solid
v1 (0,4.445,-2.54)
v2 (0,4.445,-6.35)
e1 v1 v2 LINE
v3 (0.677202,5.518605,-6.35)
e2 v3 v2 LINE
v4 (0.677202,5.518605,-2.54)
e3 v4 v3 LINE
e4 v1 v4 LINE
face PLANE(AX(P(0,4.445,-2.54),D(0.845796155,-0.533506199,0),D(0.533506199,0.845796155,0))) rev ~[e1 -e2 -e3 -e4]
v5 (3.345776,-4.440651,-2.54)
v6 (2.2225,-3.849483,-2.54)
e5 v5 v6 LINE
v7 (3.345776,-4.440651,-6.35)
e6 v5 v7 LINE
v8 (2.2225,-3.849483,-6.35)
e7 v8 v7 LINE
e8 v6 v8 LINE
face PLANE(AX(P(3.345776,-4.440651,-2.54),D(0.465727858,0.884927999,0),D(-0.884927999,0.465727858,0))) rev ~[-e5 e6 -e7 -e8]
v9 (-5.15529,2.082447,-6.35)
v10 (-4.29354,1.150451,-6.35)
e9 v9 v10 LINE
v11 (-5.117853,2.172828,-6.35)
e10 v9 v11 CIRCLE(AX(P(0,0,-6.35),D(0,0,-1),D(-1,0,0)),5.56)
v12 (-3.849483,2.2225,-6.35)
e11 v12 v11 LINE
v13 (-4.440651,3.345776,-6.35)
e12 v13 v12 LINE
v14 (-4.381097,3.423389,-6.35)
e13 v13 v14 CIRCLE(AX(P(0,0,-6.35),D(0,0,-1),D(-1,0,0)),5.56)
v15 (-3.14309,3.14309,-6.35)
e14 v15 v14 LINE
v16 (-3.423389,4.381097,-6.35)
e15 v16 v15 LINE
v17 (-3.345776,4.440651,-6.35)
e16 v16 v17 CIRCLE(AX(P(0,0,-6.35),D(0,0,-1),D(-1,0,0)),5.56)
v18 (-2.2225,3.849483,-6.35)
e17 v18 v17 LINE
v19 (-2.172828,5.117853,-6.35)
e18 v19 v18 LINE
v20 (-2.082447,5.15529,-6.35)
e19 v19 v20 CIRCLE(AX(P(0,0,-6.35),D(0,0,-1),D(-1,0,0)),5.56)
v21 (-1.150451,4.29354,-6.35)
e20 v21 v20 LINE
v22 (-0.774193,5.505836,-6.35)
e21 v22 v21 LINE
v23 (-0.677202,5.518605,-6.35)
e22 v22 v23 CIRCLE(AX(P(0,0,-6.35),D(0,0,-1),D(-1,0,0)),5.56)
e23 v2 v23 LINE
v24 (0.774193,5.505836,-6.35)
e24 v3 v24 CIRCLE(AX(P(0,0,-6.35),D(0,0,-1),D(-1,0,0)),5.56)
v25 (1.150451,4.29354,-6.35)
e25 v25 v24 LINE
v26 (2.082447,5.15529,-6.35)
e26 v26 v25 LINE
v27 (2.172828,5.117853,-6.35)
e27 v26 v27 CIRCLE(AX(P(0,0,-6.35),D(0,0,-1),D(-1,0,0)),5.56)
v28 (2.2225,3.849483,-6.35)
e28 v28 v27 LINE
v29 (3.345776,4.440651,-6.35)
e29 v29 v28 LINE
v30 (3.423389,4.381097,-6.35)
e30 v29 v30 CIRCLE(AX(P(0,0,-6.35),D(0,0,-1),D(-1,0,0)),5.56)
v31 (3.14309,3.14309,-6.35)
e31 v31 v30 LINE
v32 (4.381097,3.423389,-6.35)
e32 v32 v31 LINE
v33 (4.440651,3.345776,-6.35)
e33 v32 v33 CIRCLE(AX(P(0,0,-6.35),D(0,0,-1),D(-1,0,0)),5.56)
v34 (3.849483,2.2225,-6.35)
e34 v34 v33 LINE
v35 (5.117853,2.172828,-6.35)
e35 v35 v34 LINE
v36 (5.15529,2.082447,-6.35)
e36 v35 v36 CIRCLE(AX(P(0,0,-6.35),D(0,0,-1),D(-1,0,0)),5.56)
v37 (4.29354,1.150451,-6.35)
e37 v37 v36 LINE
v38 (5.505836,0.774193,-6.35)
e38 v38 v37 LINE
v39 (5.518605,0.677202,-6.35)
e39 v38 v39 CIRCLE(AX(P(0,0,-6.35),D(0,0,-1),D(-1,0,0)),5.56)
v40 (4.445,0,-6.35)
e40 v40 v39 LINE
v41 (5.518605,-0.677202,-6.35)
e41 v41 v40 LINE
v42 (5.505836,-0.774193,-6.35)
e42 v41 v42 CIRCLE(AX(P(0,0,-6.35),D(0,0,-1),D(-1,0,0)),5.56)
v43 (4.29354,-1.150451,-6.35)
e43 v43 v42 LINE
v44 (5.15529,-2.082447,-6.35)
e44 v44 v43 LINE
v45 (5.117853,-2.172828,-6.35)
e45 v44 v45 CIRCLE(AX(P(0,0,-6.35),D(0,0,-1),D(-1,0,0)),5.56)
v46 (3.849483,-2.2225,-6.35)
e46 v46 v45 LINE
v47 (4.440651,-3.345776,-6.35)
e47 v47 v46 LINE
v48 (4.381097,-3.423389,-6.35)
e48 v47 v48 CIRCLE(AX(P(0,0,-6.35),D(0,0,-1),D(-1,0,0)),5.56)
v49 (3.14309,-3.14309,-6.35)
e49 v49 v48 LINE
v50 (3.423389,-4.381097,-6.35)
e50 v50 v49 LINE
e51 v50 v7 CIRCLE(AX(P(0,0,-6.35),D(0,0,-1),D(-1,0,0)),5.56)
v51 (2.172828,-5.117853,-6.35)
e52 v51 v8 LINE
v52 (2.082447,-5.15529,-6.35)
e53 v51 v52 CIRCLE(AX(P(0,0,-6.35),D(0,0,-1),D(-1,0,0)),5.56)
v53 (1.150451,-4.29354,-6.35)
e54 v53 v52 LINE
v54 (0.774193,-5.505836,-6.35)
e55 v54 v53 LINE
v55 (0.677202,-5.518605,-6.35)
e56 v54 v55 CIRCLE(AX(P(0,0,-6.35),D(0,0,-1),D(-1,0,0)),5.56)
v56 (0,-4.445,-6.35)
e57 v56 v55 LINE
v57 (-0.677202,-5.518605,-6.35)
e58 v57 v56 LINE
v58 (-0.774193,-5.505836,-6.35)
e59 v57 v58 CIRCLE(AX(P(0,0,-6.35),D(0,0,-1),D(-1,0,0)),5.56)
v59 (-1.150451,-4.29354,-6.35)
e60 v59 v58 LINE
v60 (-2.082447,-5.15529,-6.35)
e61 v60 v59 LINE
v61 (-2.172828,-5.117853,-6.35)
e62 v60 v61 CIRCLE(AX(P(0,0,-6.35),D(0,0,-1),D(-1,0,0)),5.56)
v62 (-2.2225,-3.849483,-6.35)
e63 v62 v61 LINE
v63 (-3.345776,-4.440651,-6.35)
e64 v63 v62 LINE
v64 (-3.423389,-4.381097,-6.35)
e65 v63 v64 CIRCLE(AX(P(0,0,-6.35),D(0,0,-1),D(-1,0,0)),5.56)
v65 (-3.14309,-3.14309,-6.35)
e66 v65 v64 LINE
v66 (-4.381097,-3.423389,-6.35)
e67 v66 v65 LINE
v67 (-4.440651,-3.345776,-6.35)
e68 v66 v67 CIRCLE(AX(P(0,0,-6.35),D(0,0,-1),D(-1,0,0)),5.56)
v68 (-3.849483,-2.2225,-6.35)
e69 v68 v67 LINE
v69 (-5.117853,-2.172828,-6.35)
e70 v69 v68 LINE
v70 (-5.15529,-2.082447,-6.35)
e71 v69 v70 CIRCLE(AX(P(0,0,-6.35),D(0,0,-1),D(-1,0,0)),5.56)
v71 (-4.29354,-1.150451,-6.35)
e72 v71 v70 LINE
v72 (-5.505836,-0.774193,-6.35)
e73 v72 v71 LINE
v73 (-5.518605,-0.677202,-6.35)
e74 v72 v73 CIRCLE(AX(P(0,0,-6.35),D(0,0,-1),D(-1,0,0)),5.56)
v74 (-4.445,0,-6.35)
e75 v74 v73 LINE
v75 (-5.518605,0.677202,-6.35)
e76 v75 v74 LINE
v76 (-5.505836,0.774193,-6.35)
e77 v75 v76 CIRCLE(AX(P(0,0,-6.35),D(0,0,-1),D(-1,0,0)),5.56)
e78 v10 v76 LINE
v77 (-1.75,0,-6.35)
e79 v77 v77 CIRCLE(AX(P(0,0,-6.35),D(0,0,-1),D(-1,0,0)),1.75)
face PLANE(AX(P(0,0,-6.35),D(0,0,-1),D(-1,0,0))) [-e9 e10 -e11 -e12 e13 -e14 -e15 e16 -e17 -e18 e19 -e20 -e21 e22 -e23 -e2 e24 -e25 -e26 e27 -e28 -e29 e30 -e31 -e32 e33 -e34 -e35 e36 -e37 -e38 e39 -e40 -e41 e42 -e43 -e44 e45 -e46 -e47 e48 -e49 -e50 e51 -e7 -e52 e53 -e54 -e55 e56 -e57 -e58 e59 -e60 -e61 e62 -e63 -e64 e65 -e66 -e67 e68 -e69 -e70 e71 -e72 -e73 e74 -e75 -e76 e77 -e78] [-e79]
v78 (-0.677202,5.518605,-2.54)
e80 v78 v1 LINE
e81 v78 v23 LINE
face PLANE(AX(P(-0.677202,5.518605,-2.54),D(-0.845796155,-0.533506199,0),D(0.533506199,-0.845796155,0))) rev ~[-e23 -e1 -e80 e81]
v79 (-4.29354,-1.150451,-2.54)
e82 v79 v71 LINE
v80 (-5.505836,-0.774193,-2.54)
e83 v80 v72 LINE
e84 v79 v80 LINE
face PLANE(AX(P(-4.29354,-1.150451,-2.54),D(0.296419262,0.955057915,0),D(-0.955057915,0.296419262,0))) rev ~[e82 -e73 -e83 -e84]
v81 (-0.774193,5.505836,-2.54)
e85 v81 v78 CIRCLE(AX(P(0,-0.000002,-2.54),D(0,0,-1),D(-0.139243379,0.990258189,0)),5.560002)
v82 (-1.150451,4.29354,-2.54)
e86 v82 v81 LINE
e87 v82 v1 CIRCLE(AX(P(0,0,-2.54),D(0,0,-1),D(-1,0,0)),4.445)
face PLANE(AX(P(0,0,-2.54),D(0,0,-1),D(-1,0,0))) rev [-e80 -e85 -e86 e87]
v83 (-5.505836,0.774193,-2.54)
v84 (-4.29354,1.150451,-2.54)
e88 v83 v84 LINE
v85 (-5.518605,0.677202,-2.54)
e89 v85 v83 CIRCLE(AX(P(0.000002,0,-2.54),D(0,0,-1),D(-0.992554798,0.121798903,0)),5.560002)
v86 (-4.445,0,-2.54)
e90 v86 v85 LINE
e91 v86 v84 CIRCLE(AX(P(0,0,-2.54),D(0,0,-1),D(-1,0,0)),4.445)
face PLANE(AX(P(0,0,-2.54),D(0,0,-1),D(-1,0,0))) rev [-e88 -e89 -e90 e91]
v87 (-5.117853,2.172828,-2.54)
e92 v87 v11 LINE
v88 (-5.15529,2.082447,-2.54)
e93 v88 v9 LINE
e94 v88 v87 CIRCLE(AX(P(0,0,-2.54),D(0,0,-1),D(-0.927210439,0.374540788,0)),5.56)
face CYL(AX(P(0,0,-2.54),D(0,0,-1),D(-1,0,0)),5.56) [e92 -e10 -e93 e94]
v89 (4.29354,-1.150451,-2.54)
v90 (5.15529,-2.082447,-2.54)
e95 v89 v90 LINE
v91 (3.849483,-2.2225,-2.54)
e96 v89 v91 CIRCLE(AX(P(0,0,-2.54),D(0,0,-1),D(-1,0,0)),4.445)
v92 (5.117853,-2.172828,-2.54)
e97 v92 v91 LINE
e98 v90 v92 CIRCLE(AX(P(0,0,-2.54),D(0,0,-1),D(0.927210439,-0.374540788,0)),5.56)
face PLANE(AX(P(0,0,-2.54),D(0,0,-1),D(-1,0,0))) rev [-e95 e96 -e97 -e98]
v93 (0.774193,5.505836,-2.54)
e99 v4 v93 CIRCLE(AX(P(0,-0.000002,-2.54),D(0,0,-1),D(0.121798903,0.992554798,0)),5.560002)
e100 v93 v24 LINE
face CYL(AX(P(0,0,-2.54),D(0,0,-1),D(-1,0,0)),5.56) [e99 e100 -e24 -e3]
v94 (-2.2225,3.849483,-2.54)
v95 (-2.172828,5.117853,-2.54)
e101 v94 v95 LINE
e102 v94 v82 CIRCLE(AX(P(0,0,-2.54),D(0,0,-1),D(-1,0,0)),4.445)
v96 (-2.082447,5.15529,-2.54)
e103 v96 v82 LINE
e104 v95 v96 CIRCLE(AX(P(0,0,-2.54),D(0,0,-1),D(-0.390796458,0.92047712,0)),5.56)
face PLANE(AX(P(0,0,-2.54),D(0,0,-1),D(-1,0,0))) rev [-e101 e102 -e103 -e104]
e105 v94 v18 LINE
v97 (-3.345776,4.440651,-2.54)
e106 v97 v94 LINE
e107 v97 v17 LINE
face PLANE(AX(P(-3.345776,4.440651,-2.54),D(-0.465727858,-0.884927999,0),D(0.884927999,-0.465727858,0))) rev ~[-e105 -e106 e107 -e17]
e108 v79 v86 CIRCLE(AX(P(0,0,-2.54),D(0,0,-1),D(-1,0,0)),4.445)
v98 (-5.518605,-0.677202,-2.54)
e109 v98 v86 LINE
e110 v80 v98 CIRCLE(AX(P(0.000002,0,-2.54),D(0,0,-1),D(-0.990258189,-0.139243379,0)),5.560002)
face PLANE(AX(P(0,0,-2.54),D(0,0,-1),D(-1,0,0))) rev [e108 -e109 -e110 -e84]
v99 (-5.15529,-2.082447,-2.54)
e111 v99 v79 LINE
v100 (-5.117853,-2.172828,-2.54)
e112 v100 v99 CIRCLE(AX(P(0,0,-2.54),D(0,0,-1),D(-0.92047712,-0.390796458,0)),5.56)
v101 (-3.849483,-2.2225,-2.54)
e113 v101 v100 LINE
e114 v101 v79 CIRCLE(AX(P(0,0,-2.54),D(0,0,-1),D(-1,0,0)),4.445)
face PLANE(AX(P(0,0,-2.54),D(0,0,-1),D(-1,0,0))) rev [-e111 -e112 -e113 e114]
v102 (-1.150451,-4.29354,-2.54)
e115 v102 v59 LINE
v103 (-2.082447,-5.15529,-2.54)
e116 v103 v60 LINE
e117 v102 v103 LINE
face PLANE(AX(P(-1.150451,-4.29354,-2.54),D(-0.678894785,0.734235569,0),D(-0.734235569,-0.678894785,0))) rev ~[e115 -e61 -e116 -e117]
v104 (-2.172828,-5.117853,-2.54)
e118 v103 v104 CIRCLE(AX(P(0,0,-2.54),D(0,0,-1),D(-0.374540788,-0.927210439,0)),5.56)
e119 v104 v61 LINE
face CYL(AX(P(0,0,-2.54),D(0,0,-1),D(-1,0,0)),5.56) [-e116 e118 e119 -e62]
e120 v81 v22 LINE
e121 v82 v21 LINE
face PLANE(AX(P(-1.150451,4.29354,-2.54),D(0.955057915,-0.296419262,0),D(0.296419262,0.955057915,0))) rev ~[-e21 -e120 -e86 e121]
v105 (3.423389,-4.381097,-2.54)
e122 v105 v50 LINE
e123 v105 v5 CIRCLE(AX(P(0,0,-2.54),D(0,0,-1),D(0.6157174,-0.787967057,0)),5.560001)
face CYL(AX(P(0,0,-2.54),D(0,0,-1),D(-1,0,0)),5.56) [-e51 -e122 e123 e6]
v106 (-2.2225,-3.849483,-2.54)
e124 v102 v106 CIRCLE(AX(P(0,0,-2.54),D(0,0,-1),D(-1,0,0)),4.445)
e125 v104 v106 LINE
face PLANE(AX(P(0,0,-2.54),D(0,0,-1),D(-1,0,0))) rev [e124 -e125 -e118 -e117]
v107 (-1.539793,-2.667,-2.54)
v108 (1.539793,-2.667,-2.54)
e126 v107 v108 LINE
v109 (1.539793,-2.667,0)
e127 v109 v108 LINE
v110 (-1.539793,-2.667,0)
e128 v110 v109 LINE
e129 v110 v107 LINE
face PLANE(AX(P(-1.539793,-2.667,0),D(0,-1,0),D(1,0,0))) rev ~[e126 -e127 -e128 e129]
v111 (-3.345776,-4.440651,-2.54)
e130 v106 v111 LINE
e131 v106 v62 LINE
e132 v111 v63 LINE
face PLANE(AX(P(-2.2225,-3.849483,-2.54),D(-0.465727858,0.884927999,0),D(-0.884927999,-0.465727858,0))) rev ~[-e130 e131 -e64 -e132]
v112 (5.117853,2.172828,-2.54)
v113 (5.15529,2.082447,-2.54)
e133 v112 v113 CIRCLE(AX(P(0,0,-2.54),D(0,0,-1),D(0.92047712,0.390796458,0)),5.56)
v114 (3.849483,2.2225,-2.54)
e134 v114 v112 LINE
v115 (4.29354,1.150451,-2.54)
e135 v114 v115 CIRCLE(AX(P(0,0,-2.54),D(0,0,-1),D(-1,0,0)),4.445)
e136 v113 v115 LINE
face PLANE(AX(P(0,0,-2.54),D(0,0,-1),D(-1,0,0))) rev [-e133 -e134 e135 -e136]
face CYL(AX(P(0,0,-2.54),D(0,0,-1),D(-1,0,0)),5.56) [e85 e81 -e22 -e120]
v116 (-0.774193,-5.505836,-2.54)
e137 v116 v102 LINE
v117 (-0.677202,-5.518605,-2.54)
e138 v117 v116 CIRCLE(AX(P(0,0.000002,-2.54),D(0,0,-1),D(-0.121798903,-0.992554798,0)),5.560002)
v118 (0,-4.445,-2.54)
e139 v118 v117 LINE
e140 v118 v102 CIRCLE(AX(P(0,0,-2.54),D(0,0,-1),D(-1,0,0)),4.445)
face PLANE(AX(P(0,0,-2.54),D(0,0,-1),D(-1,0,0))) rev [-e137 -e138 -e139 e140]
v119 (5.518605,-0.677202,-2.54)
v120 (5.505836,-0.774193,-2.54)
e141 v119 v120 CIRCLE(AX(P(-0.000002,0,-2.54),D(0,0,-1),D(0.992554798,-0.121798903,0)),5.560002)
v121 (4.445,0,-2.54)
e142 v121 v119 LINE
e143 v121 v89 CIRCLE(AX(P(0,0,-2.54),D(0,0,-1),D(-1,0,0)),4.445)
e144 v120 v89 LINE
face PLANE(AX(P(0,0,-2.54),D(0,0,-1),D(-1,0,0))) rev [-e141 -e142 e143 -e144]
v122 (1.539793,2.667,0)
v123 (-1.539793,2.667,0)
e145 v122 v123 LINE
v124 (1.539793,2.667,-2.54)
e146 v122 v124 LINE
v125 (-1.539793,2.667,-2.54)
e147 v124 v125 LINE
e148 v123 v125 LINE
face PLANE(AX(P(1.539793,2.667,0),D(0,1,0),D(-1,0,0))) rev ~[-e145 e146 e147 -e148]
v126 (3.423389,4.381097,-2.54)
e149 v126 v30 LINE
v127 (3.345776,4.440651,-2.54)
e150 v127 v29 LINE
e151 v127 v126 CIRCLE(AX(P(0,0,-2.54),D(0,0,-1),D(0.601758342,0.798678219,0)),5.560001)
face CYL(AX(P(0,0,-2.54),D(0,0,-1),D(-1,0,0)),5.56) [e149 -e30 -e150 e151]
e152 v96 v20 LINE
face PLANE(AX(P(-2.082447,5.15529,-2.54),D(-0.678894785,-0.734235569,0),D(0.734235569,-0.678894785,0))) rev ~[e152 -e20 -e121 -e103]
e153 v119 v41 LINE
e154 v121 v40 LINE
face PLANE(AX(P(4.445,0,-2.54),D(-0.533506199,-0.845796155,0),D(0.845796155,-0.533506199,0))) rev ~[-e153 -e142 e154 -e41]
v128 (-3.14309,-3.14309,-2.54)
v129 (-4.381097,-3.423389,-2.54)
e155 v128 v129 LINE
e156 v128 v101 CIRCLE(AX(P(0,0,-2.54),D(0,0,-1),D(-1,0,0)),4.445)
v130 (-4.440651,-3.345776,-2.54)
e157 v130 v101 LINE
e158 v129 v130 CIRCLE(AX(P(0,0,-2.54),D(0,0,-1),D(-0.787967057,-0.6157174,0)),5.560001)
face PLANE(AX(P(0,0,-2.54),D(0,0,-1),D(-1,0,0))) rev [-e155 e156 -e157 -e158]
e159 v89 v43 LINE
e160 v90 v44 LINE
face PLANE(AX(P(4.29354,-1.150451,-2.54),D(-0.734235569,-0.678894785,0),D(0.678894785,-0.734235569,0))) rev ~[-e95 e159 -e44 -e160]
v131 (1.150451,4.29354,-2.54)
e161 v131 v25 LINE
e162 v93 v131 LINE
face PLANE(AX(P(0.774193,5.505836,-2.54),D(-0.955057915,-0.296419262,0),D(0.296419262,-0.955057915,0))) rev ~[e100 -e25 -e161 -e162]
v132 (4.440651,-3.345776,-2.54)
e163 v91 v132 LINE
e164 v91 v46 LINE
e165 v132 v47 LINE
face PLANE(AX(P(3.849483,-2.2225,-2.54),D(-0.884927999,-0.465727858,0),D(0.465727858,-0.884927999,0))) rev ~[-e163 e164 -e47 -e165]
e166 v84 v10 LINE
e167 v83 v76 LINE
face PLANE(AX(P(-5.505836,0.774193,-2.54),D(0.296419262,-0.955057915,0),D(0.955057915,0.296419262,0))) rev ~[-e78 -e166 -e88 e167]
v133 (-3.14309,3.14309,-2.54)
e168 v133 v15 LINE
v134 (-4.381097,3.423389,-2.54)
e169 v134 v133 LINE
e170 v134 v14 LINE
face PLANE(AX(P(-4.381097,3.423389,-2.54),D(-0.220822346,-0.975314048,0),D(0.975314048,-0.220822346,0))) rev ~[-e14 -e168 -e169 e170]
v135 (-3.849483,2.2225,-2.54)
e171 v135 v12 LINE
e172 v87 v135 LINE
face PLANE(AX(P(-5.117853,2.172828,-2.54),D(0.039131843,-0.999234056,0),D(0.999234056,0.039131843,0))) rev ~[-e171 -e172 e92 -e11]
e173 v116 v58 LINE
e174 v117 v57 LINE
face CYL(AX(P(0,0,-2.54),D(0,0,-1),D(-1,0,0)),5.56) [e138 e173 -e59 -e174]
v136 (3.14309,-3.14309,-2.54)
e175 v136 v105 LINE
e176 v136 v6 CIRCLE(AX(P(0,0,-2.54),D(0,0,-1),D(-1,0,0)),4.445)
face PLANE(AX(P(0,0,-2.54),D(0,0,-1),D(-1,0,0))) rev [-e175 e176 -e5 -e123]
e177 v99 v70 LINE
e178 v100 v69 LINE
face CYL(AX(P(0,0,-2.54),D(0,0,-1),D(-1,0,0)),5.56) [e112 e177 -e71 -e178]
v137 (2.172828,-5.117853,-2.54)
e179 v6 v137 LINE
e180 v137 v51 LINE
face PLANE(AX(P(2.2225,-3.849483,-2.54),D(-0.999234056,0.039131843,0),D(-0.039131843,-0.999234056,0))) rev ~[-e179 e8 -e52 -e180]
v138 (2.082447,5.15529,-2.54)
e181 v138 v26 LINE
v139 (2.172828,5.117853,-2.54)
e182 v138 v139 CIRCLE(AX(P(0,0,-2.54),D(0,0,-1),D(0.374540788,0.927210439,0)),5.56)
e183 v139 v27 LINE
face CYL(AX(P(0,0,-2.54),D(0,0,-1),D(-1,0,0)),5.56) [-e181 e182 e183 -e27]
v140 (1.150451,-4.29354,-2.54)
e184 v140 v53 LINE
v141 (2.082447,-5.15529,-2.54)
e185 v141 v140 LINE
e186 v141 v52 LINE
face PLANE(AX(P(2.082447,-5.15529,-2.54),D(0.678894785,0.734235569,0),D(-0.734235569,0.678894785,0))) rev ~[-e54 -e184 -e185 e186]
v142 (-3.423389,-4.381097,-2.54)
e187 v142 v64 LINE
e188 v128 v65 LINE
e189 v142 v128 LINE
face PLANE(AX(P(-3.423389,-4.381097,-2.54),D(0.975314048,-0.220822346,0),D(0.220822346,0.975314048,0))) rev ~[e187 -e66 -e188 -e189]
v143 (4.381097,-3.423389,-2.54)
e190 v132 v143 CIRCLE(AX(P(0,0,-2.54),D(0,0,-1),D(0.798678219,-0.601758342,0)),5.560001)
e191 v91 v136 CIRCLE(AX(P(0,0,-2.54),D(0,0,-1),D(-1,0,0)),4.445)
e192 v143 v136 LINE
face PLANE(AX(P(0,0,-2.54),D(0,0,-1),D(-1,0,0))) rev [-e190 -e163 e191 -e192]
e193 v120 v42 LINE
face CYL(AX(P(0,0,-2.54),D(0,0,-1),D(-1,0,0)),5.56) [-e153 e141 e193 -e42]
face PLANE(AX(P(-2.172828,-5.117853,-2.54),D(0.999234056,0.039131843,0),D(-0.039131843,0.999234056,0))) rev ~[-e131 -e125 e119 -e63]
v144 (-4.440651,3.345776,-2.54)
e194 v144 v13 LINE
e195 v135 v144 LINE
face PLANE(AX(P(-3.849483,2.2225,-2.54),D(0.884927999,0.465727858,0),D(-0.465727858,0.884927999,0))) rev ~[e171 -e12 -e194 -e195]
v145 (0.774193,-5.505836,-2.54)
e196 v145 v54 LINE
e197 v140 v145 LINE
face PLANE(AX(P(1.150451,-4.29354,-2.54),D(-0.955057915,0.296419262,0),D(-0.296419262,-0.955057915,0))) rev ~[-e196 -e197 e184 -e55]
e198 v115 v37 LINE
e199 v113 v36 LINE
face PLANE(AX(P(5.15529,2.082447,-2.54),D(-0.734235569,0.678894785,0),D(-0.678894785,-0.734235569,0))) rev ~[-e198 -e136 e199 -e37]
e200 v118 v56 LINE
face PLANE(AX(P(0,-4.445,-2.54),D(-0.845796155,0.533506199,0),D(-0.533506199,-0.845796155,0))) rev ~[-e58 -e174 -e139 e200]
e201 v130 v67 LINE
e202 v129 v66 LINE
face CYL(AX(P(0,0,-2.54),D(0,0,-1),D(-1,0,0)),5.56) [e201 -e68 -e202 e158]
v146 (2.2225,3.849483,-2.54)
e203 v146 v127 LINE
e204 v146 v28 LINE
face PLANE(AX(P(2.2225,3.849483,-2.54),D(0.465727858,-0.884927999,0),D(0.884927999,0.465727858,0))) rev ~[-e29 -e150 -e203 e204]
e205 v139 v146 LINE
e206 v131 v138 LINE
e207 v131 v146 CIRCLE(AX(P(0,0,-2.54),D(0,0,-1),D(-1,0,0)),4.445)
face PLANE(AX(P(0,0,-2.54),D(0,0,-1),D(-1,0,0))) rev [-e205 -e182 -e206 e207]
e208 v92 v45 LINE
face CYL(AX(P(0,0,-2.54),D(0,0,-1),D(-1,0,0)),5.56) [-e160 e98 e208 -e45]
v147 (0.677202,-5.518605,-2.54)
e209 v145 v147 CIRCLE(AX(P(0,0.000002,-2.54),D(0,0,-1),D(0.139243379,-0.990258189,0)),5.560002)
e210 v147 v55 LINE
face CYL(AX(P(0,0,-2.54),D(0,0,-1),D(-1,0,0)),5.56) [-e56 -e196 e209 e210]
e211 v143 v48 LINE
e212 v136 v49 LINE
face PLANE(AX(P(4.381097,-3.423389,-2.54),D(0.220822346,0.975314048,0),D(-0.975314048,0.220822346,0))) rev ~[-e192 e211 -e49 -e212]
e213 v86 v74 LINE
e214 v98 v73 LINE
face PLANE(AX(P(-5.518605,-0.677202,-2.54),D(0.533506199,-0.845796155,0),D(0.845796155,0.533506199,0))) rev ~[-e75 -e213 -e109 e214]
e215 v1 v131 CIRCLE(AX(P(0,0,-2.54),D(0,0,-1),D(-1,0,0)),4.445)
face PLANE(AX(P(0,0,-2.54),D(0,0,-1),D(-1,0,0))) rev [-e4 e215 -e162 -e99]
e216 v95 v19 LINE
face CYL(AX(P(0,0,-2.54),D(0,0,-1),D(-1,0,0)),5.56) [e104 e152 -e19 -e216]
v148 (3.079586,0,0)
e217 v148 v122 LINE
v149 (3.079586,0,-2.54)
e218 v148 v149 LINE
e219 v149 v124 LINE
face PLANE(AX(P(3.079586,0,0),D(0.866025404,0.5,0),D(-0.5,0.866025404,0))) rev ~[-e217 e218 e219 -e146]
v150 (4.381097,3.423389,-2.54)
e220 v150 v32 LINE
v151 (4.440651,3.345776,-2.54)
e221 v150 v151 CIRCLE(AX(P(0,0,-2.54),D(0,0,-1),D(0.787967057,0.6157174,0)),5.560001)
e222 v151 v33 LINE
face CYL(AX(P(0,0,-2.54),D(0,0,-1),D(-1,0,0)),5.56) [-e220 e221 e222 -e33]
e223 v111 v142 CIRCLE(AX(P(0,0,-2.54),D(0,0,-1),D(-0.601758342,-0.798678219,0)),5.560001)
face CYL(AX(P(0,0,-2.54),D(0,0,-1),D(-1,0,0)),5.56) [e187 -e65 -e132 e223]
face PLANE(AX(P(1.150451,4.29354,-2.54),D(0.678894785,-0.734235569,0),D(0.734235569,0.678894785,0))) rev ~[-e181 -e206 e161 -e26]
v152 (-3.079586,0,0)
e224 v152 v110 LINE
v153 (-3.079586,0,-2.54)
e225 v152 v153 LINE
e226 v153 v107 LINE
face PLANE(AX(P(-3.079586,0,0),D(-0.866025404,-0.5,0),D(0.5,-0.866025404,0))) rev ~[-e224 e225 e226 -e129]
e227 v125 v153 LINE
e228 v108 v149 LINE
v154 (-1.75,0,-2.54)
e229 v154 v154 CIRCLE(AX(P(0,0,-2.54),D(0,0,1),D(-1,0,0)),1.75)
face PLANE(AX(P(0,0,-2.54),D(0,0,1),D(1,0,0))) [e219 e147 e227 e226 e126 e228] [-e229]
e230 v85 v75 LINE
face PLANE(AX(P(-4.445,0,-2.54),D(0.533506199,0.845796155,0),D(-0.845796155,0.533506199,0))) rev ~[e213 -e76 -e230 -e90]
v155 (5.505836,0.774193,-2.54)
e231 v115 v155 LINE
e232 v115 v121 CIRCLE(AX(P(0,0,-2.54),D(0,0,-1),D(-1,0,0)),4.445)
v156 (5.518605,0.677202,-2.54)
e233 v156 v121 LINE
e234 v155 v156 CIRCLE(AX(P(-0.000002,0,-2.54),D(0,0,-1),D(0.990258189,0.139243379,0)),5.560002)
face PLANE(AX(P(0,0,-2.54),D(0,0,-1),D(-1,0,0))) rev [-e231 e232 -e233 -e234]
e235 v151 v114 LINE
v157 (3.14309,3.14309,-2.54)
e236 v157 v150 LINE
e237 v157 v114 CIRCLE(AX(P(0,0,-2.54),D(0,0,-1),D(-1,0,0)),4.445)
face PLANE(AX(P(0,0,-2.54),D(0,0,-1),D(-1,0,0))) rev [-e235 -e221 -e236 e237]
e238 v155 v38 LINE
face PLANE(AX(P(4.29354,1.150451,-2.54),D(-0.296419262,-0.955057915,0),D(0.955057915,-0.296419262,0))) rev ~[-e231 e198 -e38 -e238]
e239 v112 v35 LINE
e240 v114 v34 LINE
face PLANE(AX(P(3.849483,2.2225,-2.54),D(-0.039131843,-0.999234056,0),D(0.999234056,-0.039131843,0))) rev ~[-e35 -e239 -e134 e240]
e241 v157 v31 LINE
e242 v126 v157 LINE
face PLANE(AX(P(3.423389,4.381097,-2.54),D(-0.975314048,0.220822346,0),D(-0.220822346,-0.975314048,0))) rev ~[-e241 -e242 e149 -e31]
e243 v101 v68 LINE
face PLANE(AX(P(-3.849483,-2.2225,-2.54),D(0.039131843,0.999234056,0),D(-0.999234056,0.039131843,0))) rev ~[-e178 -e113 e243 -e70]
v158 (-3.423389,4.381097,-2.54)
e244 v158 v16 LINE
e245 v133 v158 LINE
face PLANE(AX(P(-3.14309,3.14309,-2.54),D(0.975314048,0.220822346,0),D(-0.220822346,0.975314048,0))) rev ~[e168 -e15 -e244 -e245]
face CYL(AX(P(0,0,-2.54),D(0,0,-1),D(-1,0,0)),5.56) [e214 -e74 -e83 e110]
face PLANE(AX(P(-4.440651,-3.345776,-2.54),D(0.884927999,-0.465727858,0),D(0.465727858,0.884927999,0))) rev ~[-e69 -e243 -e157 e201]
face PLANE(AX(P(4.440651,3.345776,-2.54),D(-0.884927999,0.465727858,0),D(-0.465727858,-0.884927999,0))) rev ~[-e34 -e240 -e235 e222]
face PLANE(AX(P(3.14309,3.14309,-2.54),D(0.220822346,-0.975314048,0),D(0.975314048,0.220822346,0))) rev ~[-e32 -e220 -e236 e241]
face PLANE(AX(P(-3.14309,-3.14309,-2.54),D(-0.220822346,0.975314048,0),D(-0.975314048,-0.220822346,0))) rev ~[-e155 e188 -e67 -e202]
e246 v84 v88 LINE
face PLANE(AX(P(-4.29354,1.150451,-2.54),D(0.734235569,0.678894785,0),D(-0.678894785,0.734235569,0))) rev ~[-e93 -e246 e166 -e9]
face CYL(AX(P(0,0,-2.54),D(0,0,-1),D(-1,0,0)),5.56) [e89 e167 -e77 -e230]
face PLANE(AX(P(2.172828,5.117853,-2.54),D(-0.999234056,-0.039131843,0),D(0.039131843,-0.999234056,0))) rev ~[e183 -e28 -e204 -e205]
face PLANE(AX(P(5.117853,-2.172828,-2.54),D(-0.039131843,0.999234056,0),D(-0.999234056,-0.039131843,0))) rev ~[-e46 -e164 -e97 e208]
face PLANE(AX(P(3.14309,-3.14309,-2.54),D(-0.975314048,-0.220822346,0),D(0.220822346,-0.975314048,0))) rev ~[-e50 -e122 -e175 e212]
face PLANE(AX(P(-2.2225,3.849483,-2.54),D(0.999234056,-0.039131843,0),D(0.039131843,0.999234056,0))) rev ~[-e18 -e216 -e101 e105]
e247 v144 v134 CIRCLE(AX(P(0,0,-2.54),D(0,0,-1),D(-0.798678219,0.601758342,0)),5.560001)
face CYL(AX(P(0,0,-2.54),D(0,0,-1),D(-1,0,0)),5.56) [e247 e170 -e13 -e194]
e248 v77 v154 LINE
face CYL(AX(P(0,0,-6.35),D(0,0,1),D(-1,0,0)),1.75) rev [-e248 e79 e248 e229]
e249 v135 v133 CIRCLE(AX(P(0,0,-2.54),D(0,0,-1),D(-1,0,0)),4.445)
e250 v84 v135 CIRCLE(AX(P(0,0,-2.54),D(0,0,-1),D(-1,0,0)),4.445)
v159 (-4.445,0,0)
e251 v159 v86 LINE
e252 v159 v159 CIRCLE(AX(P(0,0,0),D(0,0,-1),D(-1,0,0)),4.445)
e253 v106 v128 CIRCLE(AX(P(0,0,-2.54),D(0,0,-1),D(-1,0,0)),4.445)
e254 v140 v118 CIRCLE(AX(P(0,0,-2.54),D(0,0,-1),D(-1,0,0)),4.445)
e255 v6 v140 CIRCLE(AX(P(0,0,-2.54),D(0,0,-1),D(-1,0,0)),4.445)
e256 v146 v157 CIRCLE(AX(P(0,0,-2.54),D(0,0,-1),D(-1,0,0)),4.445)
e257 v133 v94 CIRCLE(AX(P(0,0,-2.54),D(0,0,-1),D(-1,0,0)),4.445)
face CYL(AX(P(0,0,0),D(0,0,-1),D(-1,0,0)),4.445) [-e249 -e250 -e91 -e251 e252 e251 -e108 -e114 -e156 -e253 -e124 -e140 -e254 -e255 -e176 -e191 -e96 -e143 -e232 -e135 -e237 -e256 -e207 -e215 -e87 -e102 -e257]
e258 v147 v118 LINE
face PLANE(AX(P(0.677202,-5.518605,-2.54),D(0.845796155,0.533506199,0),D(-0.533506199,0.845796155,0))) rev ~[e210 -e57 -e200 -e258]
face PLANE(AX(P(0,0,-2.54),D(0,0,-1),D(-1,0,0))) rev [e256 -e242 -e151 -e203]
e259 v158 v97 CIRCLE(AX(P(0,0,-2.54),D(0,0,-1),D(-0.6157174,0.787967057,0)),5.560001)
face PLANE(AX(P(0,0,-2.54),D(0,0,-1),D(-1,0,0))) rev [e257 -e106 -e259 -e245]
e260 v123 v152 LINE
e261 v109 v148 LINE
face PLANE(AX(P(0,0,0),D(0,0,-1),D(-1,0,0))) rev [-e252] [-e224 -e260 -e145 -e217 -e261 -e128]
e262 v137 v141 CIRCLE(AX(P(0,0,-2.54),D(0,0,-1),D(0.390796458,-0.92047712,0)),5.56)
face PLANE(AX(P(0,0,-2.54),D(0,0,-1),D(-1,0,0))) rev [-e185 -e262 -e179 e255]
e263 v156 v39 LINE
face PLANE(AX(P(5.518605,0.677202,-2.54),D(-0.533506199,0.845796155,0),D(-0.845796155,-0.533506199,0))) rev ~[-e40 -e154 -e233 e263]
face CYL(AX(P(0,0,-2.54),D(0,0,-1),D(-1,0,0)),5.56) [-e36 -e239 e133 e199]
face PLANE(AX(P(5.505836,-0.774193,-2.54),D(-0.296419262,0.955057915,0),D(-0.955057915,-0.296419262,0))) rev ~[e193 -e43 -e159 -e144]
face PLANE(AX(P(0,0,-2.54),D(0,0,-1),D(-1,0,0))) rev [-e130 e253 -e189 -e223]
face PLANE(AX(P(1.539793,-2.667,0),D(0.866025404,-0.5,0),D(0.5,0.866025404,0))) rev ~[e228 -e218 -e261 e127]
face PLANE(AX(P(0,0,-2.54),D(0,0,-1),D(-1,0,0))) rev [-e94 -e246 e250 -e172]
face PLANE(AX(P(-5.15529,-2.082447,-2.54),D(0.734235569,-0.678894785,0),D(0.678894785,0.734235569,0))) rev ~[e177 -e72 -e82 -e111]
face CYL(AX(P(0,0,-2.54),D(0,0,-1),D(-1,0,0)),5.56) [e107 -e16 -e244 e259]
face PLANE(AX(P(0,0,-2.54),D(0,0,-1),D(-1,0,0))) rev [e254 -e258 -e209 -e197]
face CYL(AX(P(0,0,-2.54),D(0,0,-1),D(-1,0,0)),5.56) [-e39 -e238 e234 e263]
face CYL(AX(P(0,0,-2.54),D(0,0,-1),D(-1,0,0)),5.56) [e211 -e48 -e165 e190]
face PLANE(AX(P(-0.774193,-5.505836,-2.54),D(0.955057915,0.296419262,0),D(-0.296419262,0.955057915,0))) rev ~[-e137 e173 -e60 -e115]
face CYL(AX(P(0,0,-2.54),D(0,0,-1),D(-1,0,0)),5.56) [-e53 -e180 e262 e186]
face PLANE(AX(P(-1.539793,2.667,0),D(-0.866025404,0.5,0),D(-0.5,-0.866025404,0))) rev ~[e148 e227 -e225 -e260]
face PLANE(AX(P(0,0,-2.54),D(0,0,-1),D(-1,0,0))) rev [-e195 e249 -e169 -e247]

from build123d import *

# Parameters (mm, degrees)
F3_DEPTH = 2.54
F4_R     = 6.6719294198
F5_DEPTH = 25.4


with BuildPart() as f1:
    # F0 (on Front) → F1 (revolve)
    with BuildSketch(Plane.XZ):
        Polygon((-5.56, -6.35), (-1.75, -6.35), (-1.75, 0), (-4.445, 0), (-4.445, -2.54), (-5.56, -2.54), align=None)
    revolve(axis=Axis((0, 0, -3.175), (0, 0, -1)))

    # F2 (on face) → F3 (cut)
    with BuildSketch(Plane.XY):
        Polygon((1.5397931679, 2.667), (-1.5397931679, 2.667), (-3.0795863359, 0), (-1.5397931679, -2.667), (1.5397931679, -2.667), (3.0795863359, 0), align=None)
    extrude(amount=-F3_DEPTH, mode=Mode.SUBTRACT)

    # F4 (on face) → F5 (cut)
    with BuildSketch(Plane.XY.offset(-2.54)):
        Circle(F4_R)
        with BuildLine():
            ThreePointArc((-0.7741932024, 5.5058355302), (-0.7257256287, 5.5124334292), (-0.6772018857, 5.5186046793))
            ThreePointArc((-0.6772018857, 5.5186046793), (0, 5.56), (0.6772018857, 5.5186046793))
            ThreePointArc((0.6772018857, 5.5186046793), (0.7257256287, 5.5124334292), (0.7741932024, 5.5058355302))
            ThreePointArc((0.7741932024, 5.5058355302), (1.4390338908, 5.3705475942), (2.0824467844, 5.1552900394))
            ThreePointArc((2.0824467844, 5.1552900394), (2.1277198839, 5.1367702008), (2.1728283032, 5.1178527885))
            ThreePointArc((2.1728283032, 5.1178527885), (2.78, 4.815101245), (3.3457763761, 4.4406509029))
            ThreePointArc((3.3457763761, 4.4406509029), (3.3847135453, 4.411044572), (3.4233887458, 4.381096837))
            ThreePointArc((3.4233887458, 4.381096837), (3.9315137034, 3.9315137034), (4.381096837, 3.4233887458))
            ThreePointArc((4.381096837, 3.4233887458), (4.411044572, 3.3847135453), (4.4406509029, 3.3457763761))
            ThreePointArc((4.4406509029, 3.3457763761), (4.815101245, 2.78), (5.1178527885, 2.1728283032))
            ThreePointArc((5.1178527885, 2.1728283032), (5.1367702008, 2.1277198839), (5.1552900394, 2.0824467844))
            ThreePointArc((5.1552900394, 2.0824467844), (5.3705475942, 1.4390338908), (5.5058355302, 0.7741932024))
            ThreePointArc((5.5058355302, 0.7741932024), (5.5124334292, 0.7257256287), (5.5186046793, 0.6772018857))
            ThreePointArc((5.5186046793, 0.6772018857), (5.5496415207, 0.339232946), (5.56, 0))
            ThreePointArc((5.56, 0), (5.5496415207, -0.339232946), (5.5186046793, -0.6772018857))
            ThreePointArc((5.5186046793, -0.6772018857), (5.5124334292, -0.7257256287), (5.5058355302, -0.7741932024))
            ThreePointArc((5.5058355302, -0.7741932024), (5.3705475942, -1.4390338908), (5.1552900394, -2.0824467844))
            ThreePointArc((5.1552900394, -2.0824467844), (5.1367702008, -2.1277198839), (5.1178527885, -2.1728283032))
            ThreePointArc((5.1178527885, -2.1728283032), (4.815101245, -2.78), (4.4406509029, -3.3457763761))
            ThreePointArc((4.4406509029, -3.3457763761), (4.411044572, -3.3847135453), (4.381096837, -3.4233887458))
            ThreePointArc((4.381096837, -3.4233887458), (3.9315137034, -3.9315137034), (3.4233887458, -4.381096837))
            ThreePointArc((3.4233887458, -4.381096837), (3.3847135453, -4.411044572), (3.3457763761, -4.4406509029))
            ThreePointArc((3.3457763761, -4.4406509029), (2.78, -4.815101245), (2.1728283032, -5.1178527885))
            ThreePointArc((2.1728283032, -5.1178527885), (2.1277198839, -5.1367702008), (2.0824467844, -5.1552900394))
            ThreePointArc((2.0824467844, -5.1552900394), (1.4390338908, -5.3705475942), (0.7741932024, -5.5058355302))
            ThreePointArc((0.7741932024, -5.5058355302), (0.7257256287, -5.5124334292), (0.6772018857, -5.5186046793))
            ThreePointArc((0.6772018857, -5.5186046793), (0, -5.56), (-0.6772018857, -5.5186046793))
            ThreePointArc((-0.6772018857, -5.5186046793), (-0.7257256287, -5.5124334292), (-0.7741932024, -5.5058355302))
            ThreePointArc((-0.7741932024, -5.5058355302), (-1.4390338908, -5.3705475942), (-2.0824467844, -5.1552900394))
            ThreePointArc((-2.0824467844, -5.1552900394), (-2.1277198839, -5.1367702008), (-2.1728283032, -5.1178527885))
            ThreePointArc((-2.1728283032, -5.1178527885), (-2.78, -4.815101245), (-3.3457763761, -4.4406509029))
            ThreePointArc((-3.3457763761, -4.4406509029), (-3.3847135453, -4.411044572), (-3.4233887458, -4.381096837))
            ThreePointArc((-3.4233887458, -4.381096837), (-3.9315137034, -3.9315137034), (-4.381096837, -3.4233887458))
            ThreePointArc((-4.381096837, -3.4233887458), (-4.411044572, -3.3847135453), (-4.4406509029, -3.3457763761))
            ThreePointArc((-4.4406509029, -3.3457763761), (-4.815101245, -2.78), (-5.1178527885, -2.1728283032))
            ThreePointArc((-5.1178527885, -2.1728283032), (-5.1367702008, -2.1277198839), (-5.1552900394, -2.0824467844))
            ThreePointArc((-5.1552900394, -2.0824467844), (-5.3705475942, -1.4390338908), (-5.5058355302, -0.7741932024))
            ThreePointArc((-5.5058355302, -0.7741932024), (-5.5124334292, -0.7257256287), (-5.5186046793, -0.6772018857))
            ThreePointArc((-5.5186046793, -0.6772018857), (-5.56, 0), (-5.5186046793, 0.6772018857))
            ThreePointArc((-5.5186046793, 0.6772018857), (-5.5124334292, 0.7257256287), (-5.5058355302, 0.7741932024))
            ThreePointArc((-5.5058355302, 0.7741932024), (-5.3705475942, 1.4390338908), (-5.1552900394, 2.0824467844))
            ThreePointArc((-5.1552900394, 2.0824467844), (-5.1367702008, 2.1277198839), (-5.1178527885, 2.1728283032))
            ThreePointArc((-5.1178527885, 2.1728283032), (-4.815101245, 2.78), (-4.4406509029, 3.3457763761))
            ThreePointArc((-4.4406509029, 3.3457763761), (-4.411044572, 3.3847135453), (-4.381096837, 3.4233887458))
            ThreePointArc((-4.381096837, 3.4233887458), (-3.9315137034, 3.9315137034), (-3.4233887458, 4.381096837))
            ThreePointArc((-3.4233887458, 4.381096837), (-3.3847135453, 4.411044572), (-3.3457763761, 4.4406509029))
            ThreePointArc((-3.3457763761, 4.4406509029), (-2.78, 4.815101245), (-2.1728283032, 5.1178527885))
            ThreePointArc((-2.1728283032, 5.1178527885), (-2.1277198839, 5.1367702008), (-2.0824467844, 5.1552900394))
            ThreePointArc((-2.0824467844, 5.1552900394), (-1.4390338908, 5.3705475942), (-0.7741932024, 5.5058355302))
        make_face(mode=Mode.SUBTRACT)
        with BuildLine():
            Line((-5.1178527885, 2.1728283032), (-3.8494829198, 2.2225))
            Line((-3.8494829198, 2.2225), (-4.4406509029, 3.3457763761))
            ThreePointArc((-4.4406509029, 3.3457763761), (-4.815101245, 2.78), (-5.1178527885, 2.1728283032))
        make_face()
        with BuildLine():
            Line((-4.381096837, 3.4233887458), (-3.1430896424, 3.1430896424))
            Line((-3.1430896424, 3.1430896424), (-3.4233887458, 4.381096837))
            ThreePointArc((-3.4233887458, 4.381096837), (-3.9315137034, 3.9315137034), (-4.381096837, 3.4233887458))
        make_face()
        with BuildLine():
            Line((-3.3457763761, 4.4406509029), (-2.2225, 3.8494829198))
            Line((-2.2225, 3.8494829198), (-2.1728283032, 5.1178527885))
            ThreePointArc((-2.1728283032, 5.1178527885), (-2.78, 4.815101245), (-3.3457763761, 4.4406509029))
        make_face()
        with BuildLine():
            Line((-2.0824467844, 5.1552900394), (-1.1504506555, 4.2935402979))
            Line((-1.1504506555, 4.2935402979), (-0.7741932024, 5.5058355302))
            ThreePointArc((-0.7741932024, 5.5058355302), (-1.4390338908, 5.3705475942), (-2.0824467844, 5.1552900394))
        make_face()
        with BuildLine():
            Line((-5.5058355302, 0.7741932024), (-4.2935402979, 1.1504506555))
            Line((-4.2935402979, 1.1504506555), (-5.1552900394, 2.0824467844))
            ThreePointArc((-5.1552900394, 2.0824467844), (-5.3705475942, 1.4390338908), (-5.5058355302, 0.7741932024))
        make_face()
        with BuildLine():
            Line((-5.5186046793, -0.6772018857), (-4.445, 0))
            Line((-4.445, 0), (-5.5186046793, 0.6772018857))
            ThreePointArc((-5.5186046793, 0.6772018857), (-5.56, 0), (-5.5186046793, -0.6772018857))
        make_face()
        with BuildLine():
            Line((-5.1552900394, -2.0824467844), (-4.2935402979, -1.1504506555))
            Line((-4.2935402979, -1.1504506555), (-5.5058355302, -0.7741932024))
            ThreePointArc((-5.5058355302, -0.7741932024), (-5.3705475942, -1.4390338908), (-5.1552900394, -2.0824467844))
        make_face()
        with BuildLine():
            Line((-4.4406509029, -3.3457763761), (-3.8494829198, -2.2225))
            Line((-3.8494829198, -2.2225), (-5.1178527885, -2.1728283032))
            ThreePointArc((-5.1178527885, -2.1728283032), (-4.815101245, -2.78), (-4.4406509029, -3.3457763761))
        make_face()
        with BuildLine():
            Line((-3.4233887458, -4.381096837), (-3.1430896424, -3.1430896424))
            Line((-3.1430896424, -3.1430896424), (-4.381096837, -3.4233887458))
            ThreePointArc((-4.381096837, -3.4233887458), (-3.9315137034, -3.9315137034), (-3.4233887458, -4.381096837))
        make_face()
        with BuildLine():
            Line((-2.1728283032, -5.1178527885), (-2.2225, -3.8494829198))
            Line((-2.2225, -3.8494829198), (-3.3457763761, -4.4406509029))
            ThreePointArc((-3.3457763761, -4.4406509029), (-2.78, -4.815101245), (-2.1728283032, -5.1178527885))
        make_face()
        with BuildLine():
            Line((-0.7741932024, -5.5058355302), (-1.1504506555, -4.2935402979))
            Line((-1.1504506555, -4.2935402979), (-2.0824467844, -5.1552900394))
            ThreePointArc((-2.0824467844, -5.1552900394), (-1.4390338908, -5.3705475942), (-0.7741932024, -5.5058355302))
        make_face()
        with BuildLine():
            Line((0.6772018857, -5.5186046793), (0, -4.445))
            Line((0, -4.445), (-0.6772018857, -5.5186046793))
            ThreePointArc((-0.6772018857, -5.5186046793), (0, -5.56), (0.6772018857, -5.5186046793))
        make_face()
        with BuildLine():
            Line((2.0824467844, -5.1552900394), (1.1504506555, -4.2935402979))
            Line((1.1504506555, -4.2935402979), (0.7741932024, -5.5058355302))
            ThreePointArc((0.7741932024, -5.5058355302), (1.4390338908, -5.3705475942), (2.0824467844, -5.1552900394))
        make_face()
        with BuildLine():
            Line((3.3457763761, -4.4406509029), (2.2225, -3.8494829198))
            Line((2.2225, -3.8494829198), (2.1728283032, -5.1178527885))
            ThreePointArc((2.1728283032, -5.1178527885), (2.78, -4.815101245), (3.3457763761, -4.4406509029))
        make_face()
        with BuildLine():
            Line((4.381096837, -3.4233887458), (3.1430896424, -3.1430896424))
            Line((3.1430896424, -3.1430896424), (3.4233887458, -4.381096837))
            ThreePointArc((3.4233887458, -4.381096837), (3.9315137034, -3.9315137034), (4.381096837, -3.4233887458))
        make_face()
        with BuildLine():
            Line((5.1178527885, -2.1728283032), (3.8494829198, -2.2225))
            Line((3.8494829198, -2.2225), (4.4406509029, -3.3457763761))
            ThreePointArc((4.4406509029, -3.3457763761), (4.815101245, -2.78), (5.1178527885, -2.1728283032))
        make_face()
        with BuildLine():
            Line((5.5058355302, -0.7741932024), (4.2935402979, -1.1504506555))
            Line((4.2935402979, -1.1504506555), (5.1552900394, -2.0824467844))
            ThreePointArc((5.1552900394, -2.0824467844), (5.3705475942, -1.4390338908), (5.5058355302, -0.7741932024))
        make_face()
        with BuildLine():
            Line((5.5186046793, 0.6772018857), (4.445, 0))
            Line((4.445, 0), (5.5186046793, -0.6772018857))
            ThreePointArc((5.5186046793, -0.6772018857), (5.5496415207, -0.339232946), (5.56, 0))
            ThreePointArc((5.56, 0), (5.5496415207, 0.339232946), (5.5186046793, 0.6772018857))
        make_face()
        with BuildLine():
            Line((5.1552900394, 2.0824467844), (4.2935402979, 1.1504506555))
            Line((4.2935402979, 1.1504506555), (5.5058355302, 0.7741932024))
            ThreePointArc((5.5058355302, 0.7741932024), (5.3705475942, 1.4390338908), (5.1552900394, 2.0824467844))
        make_face()
        with BuildLine():
            Line((4.4406509029, 3.3457763761), (3.8494829198, 2.2225))
            Line((3.8494829198, 2.2225), (5.1178527885, 2.1728283032))
            ThreePointArc((5.1178527885, 2.1728283032), (4.815101245, 2.78), (4.4406509029, 3.3457763761))
        make_face()
        with BuildLine():
            Line((3.4233887458, 4.381096837), (3.1430896424, 3.1430896424))
            Line((3.1430896424, 3.1430896424), (4.381096837, 3.4233887458))
            ThreePointArc((4.381096837, 3.4233887458), (3.9315137034, 3.9315137034), (3.4233887458, 4.381096837))
        make_face()
        with BuildLine():
            Line((2.1728283032, 5.1178527885), (2.2225, 3.8494829198))
            Line((2.2225, 3.8494829198), (3.3457763761, 4.4406509029))
            ThreePointArc((3.3457763761, 4.4406509029), (2.78, 4.815101245), (2.1728283032, 5.1178527885))
        make_face()
        with BuildLine():
            Line((0.7741932024, 5.5058355302), (1.1504506555, 4.2935402979))
            Line((1.1504506555, 4.2935402979), (2.0824467844, 5.1552900394))
            ThreePointArc((2.0824467844, 5.1552900394), (1.4390338908, 5.3705475942), (0.7741932024, 5.5058355302))
        make_face()
        with BuildLine():
            Line((-0.6772018857, 5.5186046793), (0, 4.445))
            Line((0, 4.445), (0.6772018857, 5.5186046793))
            ThreePointArc((0.6772018857, 5.5186046793), (0, 5.56), (-0.6772018857, 5.5186046793))
        make_face()
    extrude(amount=-F5_DEPTH, mode=Mode.SUBTRACT)


solid = f1.part
